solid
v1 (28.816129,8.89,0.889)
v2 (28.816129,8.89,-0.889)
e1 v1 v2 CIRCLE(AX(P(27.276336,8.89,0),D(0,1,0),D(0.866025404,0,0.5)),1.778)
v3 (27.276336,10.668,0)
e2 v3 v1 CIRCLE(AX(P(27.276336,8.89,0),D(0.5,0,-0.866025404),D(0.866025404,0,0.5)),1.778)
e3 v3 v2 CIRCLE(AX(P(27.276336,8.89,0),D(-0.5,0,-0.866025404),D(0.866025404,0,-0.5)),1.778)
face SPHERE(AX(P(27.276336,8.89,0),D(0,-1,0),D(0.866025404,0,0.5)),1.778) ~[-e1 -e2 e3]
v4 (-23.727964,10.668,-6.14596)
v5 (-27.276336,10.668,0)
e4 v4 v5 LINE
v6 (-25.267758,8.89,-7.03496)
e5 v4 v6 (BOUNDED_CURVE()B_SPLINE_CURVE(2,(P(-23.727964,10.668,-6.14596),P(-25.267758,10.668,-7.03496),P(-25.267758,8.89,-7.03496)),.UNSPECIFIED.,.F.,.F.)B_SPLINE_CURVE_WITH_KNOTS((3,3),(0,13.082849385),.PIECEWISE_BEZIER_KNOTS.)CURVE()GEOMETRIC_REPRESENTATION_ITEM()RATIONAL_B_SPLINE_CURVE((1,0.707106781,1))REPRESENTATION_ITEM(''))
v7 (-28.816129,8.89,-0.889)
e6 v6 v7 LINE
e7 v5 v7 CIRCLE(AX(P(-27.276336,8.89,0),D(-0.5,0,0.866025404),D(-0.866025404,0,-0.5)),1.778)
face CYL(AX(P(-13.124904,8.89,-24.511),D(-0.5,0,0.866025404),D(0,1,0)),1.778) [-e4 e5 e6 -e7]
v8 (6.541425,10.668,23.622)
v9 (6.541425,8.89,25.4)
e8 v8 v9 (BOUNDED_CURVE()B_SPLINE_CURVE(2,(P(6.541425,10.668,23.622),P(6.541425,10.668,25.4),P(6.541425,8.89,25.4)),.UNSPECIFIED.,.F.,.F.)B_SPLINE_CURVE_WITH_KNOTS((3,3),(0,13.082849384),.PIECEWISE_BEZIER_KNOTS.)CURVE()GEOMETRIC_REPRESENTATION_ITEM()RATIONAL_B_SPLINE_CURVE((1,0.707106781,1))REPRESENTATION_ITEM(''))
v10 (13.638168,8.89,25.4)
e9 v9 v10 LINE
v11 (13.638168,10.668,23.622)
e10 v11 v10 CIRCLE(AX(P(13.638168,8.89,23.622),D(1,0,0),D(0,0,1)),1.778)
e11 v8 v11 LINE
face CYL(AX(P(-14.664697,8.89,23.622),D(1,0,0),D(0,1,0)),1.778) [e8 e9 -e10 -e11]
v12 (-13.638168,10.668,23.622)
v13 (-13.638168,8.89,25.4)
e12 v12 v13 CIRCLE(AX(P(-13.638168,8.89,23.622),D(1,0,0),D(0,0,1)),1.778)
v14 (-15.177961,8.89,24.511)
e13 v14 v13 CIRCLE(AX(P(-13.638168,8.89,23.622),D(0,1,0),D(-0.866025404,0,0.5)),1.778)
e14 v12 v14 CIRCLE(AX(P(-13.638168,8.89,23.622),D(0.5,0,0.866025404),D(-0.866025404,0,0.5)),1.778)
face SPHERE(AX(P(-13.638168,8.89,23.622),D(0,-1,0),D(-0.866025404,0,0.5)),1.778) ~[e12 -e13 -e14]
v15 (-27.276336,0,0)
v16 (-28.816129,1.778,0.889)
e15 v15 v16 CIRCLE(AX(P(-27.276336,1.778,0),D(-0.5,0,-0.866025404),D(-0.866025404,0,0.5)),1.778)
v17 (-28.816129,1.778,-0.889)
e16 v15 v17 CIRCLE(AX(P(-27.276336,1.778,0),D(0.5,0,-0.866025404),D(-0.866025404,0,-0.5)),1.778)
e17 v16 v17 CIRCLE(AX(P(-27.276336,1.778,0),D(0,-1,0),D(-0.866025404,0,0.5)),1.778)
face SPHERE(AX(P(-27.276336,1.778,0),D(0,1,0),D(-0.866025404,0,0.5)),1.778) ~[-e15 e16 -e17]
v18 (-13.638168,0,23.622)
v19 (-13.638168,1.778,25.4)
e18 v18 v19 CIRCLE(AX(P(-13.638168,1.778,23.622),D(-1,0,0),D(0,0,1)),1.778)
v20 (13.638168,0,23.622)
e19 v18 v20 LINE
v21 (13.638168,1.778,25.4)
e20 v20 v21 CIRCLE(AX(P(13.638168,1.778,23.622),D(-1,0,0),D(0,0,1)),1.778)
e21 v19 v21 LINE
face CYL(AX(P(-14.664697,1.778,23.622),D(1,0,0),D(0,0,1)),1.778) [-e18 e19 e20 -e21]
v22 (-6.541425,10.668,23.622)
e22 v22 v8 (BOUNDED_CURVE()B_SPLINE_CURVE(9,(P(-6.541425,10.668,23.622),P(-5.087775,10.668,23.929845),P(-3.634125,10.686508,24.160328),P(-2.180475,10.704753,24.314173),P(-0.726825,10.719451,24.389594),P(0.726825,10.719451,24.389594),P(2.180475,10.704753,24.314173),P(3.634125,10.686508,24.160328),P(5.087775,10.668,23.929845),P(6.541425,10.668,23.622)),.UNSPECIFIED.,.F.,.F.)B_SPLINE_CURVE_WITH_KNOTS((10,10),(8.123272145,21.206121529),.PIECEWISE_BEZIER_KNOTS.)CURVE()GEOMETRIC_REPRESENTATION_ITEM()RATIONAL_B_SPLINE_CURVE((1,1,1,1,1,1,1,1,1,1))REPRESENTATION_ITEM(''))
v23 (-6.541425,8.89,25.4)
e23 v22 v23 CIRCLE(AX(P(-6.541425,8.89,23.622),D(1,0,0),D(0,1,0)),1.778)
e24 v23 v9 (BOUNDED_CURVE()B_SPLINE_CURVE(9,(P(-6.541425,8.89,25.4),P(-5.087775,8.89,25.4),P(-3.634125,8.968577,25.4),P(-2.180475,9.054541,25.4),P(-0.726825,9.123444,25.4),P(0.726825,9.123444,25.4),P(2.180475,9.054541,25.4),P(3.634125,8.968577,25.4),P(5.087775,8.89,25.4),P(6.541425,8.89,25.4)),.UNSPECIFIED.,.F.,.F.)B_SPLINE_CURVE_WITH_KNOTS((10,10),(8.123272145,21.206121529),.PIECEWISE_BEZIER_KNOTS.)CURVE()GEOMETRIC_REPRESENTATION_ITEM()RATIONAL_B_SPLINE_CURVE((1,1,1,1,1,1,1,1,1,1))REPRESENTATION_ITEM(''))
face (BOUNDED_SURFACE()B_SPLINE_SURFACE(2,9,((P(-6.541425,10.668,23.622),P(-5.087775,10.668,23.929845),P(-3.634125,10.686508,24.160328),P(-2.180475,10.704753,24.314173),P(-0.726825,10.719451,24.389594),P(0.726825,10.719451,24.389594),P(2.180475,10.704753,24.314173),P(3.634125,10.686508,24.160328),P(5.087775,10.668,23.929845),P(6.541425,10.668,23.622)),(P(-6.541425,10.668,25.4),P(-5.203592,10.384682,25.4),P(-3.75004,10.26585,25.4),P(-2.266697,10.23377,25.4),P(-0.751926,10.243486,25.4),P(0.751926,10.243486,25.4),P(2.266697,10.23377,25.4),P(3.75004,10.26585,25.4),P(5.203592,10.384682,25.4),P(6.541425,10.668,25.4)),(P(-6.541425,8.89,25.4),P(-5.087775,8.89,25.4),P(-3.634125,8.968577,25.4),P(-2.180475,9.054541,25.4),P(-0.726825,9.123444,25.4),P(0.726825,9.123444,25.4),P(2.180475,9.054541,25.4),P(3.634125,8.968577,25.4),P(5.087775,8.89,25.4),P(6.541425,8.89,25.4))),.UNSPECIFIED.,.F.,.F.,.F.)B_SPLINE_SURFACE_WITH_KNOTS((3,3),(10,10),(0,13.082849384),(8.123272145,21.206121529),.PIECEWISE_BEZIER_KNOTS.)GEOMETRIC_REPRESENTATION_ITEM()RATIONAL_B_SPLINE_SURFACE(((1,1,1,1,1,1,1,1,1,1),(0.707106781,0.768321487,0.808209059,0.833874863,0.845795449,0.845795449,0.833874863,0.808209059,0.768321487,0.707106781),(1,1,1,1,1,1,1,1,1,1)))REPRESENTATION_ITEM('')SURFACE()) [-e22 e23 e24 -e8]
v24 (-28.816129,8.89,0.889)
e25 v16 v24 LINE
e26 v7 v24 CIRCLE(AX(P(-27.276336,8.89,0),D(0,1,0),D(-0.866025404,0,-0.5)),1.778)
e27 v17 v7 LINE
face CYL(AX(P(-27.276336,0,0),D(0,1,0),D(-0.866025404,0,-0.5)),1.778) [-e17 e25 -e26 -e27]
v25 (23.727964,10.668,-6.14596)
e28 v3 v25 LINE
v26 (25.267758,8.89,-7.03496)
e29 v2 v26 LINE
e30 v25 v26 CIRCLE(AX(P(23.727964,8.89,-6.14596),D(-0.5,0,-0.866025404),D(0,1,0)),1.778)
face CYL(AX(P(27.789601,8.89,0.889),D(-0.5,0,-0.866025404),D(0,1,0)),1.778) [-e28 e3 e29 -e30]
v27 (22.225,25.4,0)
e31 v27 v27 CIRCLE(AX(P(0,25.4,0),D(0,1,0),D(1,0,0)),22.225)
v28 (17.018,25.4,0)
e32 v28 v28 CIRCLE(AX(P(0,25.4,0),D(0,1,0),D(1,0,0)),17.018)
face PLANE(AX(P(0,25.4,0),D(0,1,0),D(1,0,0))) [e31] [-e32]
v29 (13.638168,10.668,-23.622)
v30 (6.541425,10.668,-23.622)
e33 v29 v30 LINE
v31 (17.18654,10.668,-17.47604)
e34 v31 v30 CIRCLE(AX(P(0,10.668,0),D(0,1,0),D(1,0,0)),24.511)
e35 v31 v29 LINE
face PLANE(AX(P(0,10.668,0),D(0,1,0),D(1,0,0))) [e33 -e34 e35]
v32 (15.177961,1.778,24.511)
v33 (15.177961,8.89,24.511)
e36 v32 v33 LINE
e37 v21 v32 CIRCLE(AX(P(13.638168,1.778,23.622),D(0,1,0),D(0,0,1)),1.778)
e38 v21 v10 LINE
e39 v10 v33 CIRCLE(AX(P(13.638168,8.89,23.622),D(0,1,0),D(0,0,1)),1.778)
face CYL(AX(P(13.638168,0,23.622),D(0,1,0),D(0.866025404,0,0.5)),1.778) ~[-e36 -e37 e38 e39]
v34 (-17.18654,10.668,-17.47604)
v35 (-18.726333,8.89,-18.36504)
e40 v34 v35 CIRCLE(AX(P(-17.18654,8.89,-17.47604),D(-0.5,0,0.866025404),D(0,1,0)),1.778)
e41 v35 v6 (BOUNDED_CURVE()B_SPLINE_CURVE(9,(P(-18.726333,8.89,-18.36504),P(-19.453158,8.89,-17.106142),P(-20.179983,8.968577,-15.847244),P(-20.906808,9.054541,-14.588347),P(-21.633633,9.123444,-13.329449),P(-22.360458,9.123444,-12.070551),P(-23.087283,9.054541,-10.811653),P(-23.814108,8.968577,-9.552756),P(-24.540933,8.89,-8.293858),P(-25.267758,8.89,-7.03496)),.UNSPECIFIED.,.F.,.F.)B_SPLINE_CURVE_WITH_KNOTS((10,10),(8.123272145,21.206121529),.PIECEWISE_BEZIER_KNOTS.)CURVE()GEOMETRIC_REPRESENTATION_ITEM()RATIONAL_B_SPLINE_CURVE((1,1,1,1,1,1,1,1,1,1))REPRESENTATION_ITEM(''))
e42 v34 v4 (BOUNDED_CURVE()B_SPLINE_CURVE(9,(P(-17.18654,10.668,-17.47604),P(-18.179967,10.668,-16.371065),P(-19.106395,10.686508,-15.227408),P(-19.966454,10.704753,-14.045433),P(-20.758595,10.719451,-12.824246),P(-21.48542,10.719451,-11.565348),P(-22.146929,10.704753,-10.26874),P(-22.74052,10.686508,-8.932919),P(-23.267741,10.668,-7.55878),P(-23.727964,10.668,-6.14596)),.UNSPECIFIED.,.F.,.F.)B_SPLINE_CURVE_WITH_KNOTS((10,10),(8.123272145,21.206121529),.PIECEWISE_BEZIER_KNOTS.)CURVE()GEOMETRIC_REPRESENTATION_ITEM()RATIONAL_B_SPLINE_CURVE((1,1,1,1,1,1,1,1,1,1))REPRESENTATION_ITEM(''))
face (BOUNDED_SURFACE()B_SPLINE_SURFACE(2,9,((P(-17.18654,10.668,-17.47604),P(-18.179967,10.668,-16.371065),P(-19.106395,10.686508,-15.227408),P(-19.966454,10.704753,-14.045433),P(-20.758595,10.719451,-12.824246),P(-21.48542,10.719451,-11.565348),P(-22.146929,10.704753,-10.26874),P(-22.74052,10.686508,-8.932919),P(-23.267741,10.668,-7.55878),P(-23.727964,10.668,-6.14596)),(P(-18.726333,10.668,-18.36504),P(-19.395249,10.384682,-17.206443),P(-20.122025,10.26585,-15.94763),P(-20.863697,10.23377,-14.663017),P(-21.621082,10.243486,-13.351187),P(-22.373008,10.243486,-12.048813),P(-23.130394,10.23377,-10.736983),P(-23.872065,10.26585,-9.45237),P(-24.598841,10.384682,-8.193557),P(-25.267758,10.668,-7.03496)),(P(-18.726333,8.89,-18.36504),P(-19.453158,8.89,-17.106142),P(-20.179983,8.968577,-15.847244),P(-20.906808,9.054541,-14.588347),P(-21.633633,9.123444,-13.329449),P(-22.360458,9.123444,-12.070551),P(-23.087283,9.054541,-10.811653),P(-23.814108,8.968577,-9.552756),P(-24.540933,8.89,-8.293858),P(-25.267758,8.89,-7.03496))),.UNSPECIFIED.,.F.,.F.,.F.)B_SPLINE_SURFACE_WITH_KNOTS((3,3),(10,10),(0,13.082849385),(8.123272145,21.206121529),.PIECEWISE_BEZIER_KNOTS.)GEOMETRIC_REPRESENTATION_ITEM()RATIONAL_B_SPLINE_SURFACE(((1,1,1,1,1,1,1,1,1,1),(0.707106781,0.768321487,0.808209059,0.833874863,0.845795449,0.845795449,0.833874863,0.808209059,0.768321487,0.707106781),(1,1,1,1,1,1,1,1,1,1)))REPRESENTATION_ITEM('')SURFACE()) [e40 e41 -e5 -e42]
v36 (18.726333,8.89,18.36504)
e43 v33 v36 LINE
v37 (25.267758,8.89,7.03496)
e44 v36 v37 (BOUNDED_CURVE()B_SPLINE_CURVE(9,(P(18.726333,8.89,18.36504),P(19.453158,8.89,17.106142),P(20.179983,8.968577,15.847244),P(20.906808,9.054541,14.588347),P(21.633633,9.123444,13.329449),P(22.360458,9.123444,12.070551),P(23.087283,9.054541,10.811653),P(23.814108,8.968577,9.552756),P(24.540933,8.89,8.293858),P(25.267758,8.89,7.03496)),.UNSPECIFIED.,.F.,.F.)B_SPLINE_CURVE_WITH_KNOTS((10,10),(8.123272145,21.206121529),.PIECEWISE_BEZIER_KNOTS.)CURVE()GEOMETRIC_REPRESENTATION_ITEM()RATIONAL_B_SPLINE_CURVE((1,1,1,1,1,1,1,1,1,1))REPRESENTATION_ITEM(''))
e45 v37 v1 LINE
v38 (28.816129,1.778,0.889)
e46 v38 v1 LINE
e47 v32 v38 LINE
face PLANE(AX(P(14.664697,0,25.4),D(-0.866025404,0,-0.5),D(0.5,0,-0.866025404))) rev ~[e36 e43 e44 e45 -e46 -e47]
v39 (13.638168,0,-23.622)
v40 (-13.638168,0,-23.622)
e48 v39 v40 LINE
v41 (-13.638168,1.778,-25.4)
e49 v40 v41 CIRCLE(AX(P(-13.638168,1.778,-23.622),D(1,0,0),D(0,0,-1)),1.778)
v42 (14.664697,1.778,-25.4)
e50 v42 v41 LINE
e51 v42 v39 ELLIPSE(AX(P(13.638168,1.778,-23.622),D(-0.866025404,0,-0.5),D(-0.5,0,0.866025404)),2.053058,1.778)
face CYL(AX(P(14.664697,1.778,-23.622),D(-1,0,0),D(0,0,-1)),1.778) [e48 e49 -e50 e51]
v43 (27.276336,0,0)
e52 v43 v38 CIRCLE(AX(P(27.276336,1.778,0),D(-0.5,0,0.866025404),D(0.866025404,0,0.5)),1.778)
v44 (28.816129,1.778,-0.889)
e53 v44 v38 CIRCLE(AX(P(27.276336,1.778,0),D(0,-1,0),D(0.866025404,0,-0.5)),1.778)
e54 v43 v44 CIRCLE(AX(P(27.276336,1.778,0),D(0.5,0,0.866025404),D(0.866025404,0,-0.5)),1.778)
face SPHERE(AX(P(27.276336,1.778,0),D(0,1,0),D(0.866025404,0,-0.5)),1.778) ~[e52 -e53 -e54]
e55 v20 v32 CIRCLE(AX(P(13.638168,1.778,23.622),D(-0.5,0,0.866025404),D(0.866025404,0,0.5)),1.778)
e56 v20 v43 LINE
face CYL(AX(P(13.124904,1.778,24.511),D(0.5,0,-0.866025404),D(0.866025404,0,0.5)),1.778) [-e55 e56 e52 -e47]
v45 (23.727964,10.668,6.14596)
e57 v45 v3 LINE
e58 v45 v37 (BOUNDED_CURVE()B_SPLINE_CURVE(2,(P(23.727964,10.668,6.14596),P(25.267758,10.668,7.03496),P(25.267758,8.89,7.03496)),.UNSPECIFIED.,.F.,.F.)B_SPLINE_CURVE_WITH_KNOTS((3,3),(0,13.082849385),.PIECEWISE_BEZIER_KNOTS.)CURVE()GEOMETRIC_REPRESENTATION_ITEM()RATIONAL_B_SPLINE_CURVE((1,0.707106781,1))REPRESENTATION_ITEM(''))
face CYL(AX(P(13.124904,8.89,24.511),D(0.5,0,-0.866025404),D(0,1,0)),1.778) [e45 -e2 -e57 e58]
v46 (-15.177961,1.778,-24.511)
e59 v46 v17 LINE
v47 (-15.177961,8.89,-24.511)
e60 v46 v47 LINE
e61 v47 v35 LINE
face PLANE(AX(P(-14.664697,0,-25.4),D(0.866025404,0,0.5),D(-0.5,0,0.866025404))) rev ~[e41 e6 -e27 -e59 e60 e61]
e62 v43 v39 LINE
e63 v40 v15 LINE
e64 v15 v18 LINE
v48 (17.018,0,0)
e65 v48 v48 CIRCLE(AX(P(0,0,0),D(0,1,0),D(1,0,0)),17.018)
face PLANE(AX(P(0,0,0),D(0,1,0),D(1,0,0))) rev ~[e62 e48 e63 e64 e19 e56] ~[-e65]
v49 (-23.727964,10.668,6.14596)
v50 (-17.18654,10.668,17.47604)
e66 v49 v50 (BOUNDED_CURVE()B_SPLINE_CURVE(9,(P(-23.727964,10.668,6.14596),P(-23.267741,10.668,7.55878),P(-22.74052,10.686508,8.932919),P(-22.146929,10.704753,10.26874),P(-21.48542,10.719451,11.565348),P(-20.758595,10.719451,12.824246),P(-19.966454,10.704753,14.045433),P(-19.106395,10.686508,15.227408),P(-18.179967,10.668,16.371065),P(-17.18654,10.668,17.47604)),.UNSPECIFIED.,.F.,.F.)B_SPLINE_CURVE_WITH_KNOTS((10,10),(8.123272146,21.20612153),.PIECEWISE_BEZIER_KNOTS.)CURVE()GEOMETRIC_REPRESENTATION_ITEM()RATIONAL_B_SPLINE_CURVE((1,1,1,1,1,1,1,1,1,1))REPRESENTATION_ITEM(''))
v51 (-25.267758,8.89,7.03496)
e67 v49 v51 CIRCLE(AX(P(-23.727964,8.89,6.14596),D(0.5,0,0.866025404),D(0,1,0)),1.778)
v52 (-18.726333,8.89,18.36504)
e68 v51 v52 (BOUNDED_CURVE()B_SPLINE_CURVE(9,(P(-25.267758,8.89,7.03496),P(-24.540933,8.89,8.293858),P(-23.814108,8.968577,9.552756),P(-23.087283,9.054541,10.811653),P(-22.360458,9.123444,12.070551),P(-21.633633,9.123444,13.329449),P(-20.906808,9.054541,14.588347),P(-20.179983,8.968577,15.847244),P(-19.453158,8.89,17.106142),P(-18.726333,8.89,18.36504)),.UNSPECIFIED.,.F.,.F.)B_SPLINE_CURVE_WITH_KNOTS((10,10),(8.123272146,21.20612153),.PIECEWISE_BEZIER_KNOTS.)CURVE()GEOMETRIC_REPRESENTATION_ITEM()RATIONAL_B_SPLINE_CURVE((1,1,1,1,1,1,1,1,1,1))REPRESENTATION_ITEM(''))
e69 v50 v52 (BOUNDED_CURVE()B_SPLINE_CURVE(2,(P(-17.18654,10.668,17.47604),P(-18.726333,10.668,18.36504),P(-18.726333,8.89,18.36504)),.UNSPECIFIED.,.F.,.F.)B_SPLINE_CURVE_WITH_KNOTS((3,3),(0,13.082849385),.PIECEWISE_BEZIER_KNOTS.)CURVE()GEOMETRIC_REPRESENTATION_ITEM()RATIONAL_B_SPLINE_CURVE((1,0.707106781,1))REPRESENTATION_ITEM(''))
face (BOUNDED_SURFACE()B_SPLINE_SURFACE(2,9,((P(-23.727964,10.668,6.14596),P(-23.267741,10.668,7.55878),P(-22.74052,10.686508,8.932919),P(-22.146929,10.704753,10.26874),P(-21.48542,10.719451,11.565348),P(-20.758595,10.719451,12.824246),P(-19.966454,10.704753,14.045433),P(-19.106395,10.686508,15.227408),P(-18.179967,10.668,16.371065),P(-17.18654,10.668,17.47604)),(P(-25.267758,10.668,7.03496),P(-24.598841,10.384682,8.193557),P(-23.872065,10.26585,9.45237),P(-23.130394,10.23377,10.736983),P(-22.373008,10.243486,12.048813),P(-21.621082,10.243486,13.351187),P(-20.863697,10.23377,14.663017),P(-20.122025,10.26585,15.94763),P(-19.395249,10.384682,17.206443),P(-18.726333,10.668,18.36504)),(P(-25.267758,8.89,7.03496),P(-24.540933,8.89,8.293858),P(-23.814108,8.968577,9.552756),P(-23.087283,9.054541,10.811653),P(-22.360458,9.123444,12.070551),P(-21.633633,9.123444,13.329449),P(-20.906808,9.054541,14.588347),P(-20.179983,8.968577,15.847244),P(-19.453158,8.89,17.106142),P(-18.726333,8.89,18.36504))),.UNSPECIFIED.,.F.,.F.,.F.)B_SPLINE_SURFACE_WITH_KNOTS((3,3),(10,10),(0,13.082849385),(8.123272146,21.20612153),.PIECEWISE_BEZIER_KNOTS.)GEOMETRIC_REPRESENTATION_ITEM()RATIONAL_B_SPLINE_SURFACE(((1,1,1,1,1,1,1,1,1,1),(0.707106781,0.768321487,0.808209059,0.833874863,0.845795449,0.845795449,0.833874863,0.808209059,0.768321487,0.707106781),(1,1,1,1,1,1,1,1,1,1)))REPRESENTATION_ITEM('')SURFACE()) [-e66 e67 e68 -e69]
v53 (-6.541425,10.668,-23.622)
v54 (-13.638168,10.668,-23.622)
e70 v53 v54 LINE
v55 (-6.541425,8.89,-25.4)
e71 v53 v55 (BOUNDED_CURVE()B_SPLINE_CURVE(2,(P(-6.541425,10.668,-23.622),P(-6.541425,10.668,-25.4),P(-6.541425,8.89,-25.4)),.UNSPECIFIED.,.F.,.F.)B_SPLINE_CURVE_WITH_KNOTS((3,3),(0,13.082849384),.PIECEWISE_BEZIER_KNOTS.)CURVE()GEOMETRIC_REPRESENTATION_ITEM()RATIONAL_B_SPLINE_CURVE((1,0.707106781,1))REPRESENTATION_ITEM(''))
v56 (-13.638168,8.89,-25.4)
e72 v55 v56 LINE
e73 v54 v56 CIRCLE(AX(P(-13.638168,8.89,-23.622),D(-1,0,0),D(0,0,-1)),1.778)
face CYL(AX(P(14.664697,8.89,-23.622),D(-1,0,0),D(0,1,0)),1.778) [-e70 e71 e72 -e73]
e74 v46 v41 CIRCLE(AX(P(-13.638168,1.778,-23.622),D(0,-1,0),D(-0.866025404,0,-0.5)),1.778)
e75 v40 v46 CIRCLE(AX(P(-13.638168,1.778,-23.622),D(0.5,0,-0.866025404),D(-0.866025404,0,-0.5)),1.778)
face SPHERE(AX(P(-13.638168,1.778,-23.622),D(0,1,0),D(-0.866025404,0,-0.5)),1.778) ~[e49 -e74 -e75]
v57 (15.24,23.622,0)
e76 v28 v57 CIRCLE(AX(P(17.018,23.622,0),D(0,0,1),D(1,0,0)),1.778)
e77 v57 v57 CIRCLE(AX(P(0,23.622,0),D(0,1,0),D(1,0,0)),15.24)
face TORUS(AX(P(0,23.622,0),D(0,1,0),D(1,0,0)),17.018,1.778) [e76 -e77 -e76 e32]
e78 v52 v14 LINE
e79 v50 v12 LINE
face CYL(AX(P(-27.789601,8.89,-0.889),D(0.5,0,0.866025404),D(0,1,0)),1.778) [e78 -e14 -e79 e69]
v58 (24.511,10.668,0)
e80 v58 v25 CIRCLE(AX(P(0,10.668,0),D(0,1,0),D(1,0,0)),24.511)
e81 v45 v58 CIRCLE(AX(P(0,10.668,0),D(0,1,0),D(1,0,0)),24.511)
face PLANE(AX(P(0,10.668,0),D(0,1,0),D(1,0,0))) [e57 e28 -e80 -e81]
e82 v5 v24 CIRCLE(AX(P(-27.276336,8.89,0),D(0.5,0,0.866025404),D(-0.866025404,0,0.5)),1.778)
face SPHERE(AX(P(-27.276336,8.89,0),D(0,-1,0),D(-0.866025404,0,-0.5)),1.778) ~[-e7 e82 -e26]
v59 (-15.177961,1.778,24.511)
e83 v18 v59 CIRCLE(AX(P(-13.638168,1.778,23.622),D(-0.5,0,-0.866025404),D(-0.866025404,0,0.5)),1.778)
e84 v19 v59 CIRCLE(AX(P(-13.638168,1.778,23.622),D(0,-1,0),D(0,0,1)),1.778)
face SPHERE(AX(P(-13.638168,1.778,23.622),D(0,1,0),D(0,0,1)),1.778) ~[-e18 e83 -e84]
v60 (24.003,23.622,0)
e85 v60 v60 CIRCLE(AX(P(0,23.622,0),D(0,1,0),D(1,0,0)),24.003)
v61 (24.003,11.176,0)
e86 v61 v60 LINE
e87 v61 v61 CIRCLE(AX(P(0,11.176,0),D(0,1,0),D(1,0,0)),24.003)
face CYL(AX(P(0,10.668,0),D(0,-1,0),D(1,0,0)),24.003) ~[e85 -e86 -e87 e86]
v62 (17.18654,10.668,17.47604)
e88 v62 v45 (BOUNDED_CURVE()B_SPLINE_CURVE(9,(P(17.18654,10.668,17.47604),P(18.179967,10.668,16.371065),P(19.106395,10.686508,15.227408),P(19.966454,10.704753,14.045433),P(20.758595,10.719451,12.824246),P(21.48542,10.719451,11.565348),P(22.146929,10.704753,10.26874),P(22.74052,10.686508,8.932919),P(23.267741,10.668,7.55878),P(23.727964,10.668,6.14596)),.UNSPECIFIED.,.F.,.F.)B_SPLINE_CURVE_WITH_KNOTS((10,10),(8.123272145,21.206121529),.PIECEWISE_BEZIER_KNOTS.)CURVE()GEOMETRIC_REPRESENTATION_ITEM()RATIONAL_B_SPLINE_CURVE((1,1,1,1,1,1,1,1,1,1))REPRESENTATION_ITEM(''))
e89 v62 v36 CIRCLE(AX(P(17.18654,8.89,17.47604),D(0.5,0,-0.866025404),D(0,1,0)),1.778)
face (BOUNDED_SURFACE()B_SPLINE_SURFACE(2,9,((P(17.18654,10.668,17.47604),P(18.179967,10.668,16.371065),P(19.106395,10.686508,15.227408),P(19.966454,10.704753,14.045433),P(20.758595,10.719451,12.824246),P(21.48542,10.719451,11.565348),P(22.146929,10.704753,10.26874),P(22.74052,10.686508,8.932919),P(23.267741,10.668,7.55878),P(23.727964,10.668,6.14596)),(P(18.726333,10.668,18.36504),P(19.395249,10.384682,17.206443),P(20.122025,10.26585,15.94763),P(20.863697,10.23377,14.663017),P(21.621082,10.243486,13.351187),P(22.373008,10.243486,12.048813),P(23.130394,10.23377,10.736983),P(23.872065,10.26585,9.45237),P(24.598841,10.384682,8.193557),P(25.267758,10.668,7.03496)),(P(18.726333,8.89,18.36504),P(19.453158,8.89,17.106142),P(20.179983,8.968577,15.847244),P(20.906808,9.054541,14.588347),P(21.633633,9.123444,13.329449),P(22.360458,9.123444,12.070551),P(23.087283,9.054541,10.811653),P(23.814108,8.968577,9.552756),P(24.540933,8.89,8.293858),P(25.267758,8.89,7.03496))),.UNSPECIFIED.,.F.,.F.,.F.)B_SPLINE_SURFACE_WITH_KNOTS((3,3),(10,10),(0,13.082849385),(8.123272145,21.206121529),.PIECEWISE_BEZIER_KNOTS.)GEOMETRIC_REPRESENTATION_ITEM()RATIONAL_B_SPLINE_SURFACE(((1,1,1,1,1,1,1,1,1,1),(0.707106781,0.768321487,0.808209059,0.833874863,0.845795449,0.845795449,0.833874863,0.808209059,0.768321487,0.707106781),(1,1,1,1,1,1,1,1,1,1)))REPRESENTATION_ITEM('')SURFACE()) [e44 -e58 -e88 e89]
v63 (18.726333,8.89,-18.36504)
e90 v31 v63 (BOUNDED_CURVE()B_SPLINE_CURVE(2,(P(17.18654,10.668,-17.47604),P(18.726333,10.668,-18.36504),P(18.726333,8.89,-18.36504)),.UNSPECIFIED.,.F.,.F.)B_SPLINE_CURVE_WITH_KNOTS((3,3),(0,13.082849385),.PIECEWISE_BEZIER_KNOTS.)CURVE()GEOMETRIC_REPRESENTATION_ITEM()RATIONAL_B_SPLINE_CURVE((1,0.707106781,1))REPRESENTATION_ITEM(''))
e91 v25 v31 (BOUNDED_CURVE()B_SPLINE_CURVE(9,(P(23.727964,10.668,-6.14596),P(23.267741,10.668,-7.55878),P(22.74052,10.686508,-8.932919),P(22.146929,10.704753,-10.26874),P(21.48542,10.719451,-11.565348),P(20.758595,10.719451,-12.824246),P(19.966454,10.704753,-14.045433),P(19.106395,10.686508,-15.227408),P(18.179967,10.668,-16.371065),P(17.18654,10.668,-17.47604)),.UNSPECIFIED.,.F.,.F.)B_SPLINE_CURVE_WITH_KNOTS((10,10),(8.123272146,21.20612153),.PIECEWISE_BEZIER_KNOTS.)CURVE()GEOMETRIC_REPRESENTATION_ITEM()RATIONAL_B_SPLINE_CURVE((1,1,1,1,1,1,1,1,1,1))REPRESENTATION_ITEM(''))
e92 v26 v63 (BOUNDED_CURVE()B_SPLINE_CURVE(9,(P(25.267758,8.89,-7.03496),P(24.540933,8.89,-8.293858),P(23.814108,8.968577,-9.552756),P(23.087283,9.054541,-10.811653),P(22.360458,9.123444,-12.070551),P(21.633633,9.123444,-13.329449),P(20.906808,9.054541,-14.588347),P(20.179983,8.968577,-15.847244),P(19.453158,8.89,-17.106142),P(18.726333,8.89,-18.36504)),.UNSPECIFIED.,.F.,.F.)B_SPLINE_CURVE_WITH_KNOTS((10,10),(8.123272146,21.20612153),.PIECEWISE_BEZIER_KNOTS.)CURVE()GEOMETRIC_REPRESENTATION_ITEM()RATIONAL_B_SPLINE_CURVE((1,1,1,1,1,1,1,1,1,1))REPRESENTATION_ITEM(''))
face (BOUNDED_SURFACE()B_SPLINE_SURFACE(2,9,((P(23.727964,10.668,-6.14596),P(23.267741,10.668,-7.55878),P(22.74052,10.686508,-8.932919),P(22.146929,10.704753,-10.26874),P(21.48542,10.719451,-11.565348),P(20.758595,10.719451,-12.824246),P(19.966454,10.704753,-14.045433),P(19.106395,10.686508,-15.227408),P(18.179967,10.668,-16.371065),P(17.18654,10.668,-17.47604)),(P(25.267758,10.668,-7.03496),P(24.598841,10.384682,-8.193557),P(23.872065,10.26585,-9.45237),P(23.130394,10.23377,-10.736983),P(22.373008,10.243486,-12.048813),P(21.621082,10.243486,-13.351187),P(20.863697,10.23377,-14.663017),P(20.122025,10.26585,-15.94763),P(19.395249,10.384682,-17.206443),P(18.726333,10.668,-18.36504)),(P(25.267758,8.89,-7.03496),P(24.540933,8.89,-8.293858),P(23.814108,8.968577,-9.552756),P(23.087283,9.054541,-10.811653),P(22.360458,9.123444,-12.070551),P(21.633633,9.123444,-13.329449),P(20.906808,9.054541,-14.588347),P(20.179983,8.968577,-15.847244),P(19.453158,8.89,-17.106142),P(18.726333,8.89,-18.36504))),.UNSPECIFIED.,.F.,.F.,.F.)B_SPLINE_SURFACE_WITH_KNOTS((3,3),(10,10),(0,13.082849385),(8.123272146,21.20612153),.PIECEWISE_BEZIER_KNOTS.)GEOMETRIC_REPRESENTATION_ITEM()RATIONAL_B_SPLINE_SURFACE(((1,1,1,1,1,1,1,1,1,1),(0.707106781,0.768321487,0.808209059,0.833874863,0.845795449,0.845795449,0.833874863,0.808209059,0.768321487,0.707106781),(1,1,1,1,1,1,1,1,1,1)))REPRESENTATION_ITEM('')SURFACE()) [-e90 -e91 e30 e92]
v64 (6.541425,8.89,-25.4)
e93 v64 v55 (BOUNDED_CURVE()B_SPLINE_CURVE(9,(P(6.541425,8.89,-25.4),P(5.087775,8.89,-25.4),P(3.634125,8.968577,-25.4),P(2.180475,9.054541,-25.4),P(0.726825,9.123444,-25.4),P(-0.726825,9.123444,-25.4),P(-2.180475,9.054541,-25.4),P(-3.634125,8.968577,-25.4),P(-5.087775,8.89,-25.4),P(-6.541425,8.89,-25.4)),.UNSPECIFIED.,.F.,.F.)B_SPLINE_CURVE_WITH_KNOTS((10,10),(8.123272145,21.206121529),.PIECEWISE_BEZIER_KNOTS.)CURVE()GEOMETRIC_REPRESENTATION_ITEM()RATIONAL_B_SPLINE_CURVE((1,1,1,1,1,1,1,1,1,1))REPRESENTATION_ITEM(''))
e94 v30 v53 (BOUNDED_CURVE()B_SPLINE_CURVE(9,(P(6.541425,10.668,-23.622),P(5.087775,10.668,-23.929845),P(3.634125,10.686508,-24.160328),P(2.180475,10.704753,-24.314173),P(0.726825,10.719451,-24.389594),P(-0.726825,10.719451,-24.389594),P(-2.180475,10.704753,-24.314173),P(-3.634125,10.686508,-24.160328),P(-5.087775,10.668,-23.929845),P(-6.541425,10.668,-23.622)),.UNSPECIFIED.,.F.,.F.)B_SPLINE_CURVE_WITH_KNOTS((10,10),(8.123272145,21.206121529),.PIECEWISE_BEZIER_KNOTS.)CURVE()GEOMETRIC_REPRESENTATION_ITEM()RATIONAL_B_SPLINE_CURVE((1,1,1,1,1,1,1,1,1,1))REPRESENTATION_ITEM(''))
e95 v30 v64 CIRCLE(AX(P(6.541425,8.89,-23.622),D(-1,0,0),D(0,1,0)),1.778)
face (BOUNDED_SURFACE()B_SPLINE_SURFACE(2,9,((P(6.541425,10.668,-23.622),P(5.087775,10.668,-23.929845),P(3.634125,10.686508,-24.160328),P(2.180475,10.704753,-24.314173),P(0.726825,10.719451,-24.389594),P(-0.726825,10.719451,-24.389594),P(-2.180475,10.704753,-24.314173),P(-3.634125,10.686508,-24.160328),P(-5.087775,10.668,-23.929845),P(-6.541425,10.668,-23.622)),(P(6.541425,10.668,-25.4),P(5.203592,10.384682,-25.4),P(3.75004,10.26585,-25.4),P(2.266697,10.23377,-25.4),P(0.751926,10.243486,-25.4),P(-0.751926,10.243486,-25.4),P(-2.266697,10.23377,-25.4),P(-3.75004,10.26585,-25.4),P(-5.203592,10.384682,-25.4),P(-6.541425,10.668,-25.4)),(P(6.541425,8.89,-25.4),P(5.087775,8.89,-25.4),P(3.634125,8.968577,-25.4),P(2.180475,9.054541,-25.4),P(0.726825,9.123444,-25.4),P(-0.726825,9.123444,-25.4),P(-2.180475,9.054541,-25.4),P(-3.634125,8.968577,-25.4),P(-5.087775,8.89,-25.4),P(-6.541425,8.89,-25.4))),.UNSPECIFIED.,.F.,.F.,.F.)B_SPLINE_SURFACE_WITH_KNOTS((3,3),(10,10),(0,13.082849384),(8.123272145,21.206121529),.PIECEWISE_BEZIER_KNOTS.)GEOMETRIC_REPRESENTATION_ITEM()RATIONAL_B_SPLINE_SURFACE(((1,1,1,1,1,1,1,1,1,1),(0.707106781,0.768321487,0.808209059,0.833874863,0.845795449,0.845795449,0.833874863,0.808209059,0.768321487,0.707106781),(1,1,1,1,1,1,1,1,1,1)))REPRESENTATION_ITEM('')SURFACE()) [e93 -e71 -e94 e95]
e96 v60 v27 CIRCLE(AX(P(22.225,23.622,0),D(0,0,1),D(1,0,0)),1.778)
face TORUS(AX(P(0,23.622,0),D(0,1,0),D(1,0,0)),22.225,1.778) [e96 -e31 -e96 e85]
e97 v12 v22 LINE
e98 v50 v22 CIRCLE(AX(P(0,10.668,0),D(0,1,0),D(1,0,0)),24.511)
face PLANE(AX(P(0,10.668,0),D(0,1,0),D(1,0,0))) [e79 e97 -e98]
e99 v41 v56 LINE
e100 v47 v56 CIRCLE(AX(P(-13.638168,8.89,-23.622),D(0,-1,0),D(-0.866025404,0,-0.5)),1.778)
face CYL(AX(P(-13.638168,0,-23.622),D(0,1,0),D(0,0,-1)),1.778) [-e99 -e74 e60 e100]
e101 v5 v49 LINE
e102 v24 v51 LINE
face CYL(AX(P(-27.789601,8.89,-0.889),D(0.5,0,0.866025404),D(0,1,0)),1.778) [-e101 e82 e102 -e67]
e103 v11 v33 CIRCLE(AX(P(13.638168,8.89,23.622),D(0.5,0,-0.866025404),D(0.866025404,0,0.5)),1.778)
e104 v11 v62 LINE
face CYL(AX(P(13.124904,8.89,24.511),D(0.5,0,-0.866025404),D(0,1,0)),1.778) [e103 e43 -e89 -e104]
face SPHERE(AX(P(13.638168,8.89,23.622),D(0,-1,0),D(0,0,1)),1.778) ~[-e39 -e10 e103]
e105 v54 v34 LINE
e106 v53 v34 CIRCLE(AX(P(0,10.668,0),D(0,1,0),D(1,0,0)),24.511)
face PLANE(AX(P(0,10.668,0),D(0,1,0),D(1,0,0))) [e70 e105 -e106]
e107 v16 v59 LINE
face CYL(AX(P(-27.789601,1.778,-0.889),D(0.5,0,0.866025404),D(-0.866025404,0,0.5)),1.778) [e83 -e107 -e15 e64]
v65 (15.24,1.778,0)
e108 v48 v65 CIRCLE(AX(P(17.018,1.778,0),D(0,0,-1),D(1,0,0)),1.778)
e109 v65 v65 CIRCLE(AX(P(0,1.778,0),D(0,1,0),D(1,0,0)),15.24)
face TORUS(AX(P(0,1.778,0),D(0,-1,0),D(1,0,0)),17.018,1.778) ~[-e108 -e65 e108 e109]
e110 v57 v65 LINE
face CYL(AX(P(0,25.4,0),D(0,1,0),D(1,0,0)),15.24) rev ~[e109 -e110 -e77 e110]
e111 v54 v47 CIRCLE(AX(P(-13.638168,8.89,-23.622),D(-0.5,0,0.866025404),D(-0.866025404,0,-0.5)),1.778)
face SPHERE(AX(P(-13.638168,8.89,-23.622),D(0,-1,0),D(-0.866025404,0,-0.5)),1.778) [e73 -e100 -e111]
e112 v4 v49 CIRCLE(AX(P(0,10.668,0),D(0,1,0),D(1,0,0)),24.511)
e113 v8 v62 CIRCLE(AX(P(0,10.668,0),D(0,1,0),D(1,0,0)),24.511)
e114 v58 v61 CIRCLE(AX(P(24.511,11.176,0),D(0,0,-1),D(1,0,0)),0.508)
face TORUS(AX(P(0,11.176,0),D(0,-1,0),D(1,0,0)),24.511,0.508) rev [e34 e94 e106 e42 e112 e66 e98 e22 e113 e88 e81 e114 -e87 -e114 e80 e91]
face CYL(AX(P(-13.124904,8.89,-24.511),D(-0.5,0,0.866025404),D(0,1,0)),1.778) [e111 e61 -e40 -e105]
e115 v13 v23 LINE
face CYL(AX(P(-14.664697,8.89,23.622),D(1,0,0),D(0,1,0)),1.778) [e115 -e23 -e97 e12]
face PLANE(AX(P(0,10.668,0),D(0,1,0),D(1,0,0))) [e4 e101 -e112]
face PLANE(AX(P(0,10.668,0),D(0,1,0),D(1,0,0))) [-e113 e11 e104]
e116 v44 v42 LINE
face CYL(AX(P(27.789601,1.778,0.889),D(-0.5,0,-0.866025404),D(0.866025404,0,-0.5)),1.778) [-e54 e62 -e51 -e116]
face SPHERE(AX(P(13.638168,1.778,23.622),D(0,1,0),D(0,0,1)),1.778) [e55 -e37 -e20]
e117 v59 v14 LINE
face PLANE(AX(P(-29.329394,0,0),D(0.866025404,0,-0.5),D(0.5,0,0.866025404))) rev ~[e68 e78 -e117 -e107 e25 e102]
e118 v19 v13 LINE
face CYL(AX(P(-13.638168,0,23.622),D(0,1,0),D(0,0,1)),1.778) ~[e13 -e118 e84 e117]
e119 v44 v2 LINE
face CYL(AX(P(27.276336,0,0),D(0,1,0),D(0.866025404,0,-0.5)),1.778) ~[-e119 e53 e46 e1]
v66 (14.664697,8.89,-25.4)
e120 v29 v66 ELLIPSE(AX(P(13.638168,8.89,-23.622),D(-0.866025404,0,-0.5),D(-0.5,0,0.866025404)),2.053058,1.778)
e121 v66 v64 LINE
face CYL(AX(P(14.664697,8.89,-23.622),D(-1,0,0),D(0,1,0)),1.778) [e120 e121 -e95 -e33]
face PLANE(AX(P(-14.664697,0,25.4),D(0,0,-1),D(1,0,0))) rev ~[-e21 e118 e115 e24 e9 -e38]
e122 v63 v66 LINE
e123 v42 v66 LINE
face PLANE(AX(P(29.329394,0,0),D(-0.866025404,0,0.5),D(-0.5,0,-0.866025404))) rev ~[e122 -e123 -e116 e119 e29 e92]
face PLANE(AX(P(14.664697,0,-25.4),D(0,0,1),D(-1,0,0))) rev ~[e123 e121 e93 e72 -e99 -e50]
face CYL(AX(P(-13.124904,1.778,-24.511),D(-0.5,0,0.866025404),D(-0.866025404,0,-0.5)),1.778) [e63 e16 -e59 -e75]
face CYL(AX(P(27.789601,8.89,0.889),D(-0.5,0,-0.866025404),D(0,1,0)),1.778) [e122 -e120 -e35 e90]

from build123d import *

# Parameters (mm, degrees)
BOSS_EXTRUDE1_DEPTH = 10.668
SKETCH2_R           = 24.003
BOSS_EXTRUDE2_DEPTH = 14.732
SKETCH3_R           = 15.24
CUT_EXTRUDE1_DEPTH  = 26.4
FILLET2_R           = 0.508
FILLET1_R           = 1.778


with BuildPart() as part:
    # Sketch1 → Boss-Extrude1 (new body)
    with BuildSketch(Plane(origin=(0, 0, 0), x_dir=(1, 0, 0), z_dir=(0, 1, 0))):
        Polygon((29.329393675, 0), (14.664696837, 25.4), (-14.664696837, 25.4), (-29.329393675, 0), (-14.664696837, -25.4), (14.664696837, -25.4), align=None)
    extrude(amount=BOSS_EXTRUDE1_DEPTH)

    # Sketch2 → Boss-Extrude2 (add)
    with BuildSketch(Plane(origin=(0, 10.668, 0), x_dir=(1, 0, 0), z_dir=(0, 1, 0))):
        Circle(SKETCH2_R)
    extrude(amount=BOSS_EXTRUDE2_DEPTH)

    # Sketch3 → Cut-Extrude1 (cut, through all)
    with BuildSketch(Plane(origin=(0, 25.4, 0), x_dir=(1, 0, 0), z_dir=(0, 1, 0))):
        Circle(SKETCH3_R)
    extrude(amount=-CUT_EXTRUDE1_DEPTH, mode=Mode.SUBTRACT)

    # Fillet2
    fillet2_edges = [part.edges().sort_by_distance(p)[0] for p in [
        (-24.003, 10.668, 0),
    ]]
    fillet(fillet2_edges, radius=FILLET2_R)

    # Fillet1
    fillet1_edges = [part.edges().sort_by_distance(p)[0] for p in [
        (0, 10.668, -25.4),
        (14.664696837, 5.334, 25.4),
        (-14.664696837, 5.334, 25.4),
        (-29.329393675, 5.334, 0),
        (-14.664696837, 5.334, -25.4),
        (29.329393675, 5.334, 0),
        (-21.997045256, 10.668, -12.7),
        (-21.997045256, 10.668, 12.7),
        (0, 10.668, 25.4),
        (-24.003, 25.4, 0),
        (-15.24, 0, 0),
        (-15.24, 25.4, 0),
        (21.997045256, 10.668, 12.7),
        (0, 0, 25.4),
        (-21.997045256, 0, 12.7),
        (-21.997045256, 0, -12.7),
        (21.997045256, 10.668, -12.7),
        (0, 0, -25.4),
        (21.997045256, 0, -12.7),
        (21.997045256, 0, 12.7),
    ]]
    fillet(fillet1_edges, radius=FILLET1_R)


solid = part.part
